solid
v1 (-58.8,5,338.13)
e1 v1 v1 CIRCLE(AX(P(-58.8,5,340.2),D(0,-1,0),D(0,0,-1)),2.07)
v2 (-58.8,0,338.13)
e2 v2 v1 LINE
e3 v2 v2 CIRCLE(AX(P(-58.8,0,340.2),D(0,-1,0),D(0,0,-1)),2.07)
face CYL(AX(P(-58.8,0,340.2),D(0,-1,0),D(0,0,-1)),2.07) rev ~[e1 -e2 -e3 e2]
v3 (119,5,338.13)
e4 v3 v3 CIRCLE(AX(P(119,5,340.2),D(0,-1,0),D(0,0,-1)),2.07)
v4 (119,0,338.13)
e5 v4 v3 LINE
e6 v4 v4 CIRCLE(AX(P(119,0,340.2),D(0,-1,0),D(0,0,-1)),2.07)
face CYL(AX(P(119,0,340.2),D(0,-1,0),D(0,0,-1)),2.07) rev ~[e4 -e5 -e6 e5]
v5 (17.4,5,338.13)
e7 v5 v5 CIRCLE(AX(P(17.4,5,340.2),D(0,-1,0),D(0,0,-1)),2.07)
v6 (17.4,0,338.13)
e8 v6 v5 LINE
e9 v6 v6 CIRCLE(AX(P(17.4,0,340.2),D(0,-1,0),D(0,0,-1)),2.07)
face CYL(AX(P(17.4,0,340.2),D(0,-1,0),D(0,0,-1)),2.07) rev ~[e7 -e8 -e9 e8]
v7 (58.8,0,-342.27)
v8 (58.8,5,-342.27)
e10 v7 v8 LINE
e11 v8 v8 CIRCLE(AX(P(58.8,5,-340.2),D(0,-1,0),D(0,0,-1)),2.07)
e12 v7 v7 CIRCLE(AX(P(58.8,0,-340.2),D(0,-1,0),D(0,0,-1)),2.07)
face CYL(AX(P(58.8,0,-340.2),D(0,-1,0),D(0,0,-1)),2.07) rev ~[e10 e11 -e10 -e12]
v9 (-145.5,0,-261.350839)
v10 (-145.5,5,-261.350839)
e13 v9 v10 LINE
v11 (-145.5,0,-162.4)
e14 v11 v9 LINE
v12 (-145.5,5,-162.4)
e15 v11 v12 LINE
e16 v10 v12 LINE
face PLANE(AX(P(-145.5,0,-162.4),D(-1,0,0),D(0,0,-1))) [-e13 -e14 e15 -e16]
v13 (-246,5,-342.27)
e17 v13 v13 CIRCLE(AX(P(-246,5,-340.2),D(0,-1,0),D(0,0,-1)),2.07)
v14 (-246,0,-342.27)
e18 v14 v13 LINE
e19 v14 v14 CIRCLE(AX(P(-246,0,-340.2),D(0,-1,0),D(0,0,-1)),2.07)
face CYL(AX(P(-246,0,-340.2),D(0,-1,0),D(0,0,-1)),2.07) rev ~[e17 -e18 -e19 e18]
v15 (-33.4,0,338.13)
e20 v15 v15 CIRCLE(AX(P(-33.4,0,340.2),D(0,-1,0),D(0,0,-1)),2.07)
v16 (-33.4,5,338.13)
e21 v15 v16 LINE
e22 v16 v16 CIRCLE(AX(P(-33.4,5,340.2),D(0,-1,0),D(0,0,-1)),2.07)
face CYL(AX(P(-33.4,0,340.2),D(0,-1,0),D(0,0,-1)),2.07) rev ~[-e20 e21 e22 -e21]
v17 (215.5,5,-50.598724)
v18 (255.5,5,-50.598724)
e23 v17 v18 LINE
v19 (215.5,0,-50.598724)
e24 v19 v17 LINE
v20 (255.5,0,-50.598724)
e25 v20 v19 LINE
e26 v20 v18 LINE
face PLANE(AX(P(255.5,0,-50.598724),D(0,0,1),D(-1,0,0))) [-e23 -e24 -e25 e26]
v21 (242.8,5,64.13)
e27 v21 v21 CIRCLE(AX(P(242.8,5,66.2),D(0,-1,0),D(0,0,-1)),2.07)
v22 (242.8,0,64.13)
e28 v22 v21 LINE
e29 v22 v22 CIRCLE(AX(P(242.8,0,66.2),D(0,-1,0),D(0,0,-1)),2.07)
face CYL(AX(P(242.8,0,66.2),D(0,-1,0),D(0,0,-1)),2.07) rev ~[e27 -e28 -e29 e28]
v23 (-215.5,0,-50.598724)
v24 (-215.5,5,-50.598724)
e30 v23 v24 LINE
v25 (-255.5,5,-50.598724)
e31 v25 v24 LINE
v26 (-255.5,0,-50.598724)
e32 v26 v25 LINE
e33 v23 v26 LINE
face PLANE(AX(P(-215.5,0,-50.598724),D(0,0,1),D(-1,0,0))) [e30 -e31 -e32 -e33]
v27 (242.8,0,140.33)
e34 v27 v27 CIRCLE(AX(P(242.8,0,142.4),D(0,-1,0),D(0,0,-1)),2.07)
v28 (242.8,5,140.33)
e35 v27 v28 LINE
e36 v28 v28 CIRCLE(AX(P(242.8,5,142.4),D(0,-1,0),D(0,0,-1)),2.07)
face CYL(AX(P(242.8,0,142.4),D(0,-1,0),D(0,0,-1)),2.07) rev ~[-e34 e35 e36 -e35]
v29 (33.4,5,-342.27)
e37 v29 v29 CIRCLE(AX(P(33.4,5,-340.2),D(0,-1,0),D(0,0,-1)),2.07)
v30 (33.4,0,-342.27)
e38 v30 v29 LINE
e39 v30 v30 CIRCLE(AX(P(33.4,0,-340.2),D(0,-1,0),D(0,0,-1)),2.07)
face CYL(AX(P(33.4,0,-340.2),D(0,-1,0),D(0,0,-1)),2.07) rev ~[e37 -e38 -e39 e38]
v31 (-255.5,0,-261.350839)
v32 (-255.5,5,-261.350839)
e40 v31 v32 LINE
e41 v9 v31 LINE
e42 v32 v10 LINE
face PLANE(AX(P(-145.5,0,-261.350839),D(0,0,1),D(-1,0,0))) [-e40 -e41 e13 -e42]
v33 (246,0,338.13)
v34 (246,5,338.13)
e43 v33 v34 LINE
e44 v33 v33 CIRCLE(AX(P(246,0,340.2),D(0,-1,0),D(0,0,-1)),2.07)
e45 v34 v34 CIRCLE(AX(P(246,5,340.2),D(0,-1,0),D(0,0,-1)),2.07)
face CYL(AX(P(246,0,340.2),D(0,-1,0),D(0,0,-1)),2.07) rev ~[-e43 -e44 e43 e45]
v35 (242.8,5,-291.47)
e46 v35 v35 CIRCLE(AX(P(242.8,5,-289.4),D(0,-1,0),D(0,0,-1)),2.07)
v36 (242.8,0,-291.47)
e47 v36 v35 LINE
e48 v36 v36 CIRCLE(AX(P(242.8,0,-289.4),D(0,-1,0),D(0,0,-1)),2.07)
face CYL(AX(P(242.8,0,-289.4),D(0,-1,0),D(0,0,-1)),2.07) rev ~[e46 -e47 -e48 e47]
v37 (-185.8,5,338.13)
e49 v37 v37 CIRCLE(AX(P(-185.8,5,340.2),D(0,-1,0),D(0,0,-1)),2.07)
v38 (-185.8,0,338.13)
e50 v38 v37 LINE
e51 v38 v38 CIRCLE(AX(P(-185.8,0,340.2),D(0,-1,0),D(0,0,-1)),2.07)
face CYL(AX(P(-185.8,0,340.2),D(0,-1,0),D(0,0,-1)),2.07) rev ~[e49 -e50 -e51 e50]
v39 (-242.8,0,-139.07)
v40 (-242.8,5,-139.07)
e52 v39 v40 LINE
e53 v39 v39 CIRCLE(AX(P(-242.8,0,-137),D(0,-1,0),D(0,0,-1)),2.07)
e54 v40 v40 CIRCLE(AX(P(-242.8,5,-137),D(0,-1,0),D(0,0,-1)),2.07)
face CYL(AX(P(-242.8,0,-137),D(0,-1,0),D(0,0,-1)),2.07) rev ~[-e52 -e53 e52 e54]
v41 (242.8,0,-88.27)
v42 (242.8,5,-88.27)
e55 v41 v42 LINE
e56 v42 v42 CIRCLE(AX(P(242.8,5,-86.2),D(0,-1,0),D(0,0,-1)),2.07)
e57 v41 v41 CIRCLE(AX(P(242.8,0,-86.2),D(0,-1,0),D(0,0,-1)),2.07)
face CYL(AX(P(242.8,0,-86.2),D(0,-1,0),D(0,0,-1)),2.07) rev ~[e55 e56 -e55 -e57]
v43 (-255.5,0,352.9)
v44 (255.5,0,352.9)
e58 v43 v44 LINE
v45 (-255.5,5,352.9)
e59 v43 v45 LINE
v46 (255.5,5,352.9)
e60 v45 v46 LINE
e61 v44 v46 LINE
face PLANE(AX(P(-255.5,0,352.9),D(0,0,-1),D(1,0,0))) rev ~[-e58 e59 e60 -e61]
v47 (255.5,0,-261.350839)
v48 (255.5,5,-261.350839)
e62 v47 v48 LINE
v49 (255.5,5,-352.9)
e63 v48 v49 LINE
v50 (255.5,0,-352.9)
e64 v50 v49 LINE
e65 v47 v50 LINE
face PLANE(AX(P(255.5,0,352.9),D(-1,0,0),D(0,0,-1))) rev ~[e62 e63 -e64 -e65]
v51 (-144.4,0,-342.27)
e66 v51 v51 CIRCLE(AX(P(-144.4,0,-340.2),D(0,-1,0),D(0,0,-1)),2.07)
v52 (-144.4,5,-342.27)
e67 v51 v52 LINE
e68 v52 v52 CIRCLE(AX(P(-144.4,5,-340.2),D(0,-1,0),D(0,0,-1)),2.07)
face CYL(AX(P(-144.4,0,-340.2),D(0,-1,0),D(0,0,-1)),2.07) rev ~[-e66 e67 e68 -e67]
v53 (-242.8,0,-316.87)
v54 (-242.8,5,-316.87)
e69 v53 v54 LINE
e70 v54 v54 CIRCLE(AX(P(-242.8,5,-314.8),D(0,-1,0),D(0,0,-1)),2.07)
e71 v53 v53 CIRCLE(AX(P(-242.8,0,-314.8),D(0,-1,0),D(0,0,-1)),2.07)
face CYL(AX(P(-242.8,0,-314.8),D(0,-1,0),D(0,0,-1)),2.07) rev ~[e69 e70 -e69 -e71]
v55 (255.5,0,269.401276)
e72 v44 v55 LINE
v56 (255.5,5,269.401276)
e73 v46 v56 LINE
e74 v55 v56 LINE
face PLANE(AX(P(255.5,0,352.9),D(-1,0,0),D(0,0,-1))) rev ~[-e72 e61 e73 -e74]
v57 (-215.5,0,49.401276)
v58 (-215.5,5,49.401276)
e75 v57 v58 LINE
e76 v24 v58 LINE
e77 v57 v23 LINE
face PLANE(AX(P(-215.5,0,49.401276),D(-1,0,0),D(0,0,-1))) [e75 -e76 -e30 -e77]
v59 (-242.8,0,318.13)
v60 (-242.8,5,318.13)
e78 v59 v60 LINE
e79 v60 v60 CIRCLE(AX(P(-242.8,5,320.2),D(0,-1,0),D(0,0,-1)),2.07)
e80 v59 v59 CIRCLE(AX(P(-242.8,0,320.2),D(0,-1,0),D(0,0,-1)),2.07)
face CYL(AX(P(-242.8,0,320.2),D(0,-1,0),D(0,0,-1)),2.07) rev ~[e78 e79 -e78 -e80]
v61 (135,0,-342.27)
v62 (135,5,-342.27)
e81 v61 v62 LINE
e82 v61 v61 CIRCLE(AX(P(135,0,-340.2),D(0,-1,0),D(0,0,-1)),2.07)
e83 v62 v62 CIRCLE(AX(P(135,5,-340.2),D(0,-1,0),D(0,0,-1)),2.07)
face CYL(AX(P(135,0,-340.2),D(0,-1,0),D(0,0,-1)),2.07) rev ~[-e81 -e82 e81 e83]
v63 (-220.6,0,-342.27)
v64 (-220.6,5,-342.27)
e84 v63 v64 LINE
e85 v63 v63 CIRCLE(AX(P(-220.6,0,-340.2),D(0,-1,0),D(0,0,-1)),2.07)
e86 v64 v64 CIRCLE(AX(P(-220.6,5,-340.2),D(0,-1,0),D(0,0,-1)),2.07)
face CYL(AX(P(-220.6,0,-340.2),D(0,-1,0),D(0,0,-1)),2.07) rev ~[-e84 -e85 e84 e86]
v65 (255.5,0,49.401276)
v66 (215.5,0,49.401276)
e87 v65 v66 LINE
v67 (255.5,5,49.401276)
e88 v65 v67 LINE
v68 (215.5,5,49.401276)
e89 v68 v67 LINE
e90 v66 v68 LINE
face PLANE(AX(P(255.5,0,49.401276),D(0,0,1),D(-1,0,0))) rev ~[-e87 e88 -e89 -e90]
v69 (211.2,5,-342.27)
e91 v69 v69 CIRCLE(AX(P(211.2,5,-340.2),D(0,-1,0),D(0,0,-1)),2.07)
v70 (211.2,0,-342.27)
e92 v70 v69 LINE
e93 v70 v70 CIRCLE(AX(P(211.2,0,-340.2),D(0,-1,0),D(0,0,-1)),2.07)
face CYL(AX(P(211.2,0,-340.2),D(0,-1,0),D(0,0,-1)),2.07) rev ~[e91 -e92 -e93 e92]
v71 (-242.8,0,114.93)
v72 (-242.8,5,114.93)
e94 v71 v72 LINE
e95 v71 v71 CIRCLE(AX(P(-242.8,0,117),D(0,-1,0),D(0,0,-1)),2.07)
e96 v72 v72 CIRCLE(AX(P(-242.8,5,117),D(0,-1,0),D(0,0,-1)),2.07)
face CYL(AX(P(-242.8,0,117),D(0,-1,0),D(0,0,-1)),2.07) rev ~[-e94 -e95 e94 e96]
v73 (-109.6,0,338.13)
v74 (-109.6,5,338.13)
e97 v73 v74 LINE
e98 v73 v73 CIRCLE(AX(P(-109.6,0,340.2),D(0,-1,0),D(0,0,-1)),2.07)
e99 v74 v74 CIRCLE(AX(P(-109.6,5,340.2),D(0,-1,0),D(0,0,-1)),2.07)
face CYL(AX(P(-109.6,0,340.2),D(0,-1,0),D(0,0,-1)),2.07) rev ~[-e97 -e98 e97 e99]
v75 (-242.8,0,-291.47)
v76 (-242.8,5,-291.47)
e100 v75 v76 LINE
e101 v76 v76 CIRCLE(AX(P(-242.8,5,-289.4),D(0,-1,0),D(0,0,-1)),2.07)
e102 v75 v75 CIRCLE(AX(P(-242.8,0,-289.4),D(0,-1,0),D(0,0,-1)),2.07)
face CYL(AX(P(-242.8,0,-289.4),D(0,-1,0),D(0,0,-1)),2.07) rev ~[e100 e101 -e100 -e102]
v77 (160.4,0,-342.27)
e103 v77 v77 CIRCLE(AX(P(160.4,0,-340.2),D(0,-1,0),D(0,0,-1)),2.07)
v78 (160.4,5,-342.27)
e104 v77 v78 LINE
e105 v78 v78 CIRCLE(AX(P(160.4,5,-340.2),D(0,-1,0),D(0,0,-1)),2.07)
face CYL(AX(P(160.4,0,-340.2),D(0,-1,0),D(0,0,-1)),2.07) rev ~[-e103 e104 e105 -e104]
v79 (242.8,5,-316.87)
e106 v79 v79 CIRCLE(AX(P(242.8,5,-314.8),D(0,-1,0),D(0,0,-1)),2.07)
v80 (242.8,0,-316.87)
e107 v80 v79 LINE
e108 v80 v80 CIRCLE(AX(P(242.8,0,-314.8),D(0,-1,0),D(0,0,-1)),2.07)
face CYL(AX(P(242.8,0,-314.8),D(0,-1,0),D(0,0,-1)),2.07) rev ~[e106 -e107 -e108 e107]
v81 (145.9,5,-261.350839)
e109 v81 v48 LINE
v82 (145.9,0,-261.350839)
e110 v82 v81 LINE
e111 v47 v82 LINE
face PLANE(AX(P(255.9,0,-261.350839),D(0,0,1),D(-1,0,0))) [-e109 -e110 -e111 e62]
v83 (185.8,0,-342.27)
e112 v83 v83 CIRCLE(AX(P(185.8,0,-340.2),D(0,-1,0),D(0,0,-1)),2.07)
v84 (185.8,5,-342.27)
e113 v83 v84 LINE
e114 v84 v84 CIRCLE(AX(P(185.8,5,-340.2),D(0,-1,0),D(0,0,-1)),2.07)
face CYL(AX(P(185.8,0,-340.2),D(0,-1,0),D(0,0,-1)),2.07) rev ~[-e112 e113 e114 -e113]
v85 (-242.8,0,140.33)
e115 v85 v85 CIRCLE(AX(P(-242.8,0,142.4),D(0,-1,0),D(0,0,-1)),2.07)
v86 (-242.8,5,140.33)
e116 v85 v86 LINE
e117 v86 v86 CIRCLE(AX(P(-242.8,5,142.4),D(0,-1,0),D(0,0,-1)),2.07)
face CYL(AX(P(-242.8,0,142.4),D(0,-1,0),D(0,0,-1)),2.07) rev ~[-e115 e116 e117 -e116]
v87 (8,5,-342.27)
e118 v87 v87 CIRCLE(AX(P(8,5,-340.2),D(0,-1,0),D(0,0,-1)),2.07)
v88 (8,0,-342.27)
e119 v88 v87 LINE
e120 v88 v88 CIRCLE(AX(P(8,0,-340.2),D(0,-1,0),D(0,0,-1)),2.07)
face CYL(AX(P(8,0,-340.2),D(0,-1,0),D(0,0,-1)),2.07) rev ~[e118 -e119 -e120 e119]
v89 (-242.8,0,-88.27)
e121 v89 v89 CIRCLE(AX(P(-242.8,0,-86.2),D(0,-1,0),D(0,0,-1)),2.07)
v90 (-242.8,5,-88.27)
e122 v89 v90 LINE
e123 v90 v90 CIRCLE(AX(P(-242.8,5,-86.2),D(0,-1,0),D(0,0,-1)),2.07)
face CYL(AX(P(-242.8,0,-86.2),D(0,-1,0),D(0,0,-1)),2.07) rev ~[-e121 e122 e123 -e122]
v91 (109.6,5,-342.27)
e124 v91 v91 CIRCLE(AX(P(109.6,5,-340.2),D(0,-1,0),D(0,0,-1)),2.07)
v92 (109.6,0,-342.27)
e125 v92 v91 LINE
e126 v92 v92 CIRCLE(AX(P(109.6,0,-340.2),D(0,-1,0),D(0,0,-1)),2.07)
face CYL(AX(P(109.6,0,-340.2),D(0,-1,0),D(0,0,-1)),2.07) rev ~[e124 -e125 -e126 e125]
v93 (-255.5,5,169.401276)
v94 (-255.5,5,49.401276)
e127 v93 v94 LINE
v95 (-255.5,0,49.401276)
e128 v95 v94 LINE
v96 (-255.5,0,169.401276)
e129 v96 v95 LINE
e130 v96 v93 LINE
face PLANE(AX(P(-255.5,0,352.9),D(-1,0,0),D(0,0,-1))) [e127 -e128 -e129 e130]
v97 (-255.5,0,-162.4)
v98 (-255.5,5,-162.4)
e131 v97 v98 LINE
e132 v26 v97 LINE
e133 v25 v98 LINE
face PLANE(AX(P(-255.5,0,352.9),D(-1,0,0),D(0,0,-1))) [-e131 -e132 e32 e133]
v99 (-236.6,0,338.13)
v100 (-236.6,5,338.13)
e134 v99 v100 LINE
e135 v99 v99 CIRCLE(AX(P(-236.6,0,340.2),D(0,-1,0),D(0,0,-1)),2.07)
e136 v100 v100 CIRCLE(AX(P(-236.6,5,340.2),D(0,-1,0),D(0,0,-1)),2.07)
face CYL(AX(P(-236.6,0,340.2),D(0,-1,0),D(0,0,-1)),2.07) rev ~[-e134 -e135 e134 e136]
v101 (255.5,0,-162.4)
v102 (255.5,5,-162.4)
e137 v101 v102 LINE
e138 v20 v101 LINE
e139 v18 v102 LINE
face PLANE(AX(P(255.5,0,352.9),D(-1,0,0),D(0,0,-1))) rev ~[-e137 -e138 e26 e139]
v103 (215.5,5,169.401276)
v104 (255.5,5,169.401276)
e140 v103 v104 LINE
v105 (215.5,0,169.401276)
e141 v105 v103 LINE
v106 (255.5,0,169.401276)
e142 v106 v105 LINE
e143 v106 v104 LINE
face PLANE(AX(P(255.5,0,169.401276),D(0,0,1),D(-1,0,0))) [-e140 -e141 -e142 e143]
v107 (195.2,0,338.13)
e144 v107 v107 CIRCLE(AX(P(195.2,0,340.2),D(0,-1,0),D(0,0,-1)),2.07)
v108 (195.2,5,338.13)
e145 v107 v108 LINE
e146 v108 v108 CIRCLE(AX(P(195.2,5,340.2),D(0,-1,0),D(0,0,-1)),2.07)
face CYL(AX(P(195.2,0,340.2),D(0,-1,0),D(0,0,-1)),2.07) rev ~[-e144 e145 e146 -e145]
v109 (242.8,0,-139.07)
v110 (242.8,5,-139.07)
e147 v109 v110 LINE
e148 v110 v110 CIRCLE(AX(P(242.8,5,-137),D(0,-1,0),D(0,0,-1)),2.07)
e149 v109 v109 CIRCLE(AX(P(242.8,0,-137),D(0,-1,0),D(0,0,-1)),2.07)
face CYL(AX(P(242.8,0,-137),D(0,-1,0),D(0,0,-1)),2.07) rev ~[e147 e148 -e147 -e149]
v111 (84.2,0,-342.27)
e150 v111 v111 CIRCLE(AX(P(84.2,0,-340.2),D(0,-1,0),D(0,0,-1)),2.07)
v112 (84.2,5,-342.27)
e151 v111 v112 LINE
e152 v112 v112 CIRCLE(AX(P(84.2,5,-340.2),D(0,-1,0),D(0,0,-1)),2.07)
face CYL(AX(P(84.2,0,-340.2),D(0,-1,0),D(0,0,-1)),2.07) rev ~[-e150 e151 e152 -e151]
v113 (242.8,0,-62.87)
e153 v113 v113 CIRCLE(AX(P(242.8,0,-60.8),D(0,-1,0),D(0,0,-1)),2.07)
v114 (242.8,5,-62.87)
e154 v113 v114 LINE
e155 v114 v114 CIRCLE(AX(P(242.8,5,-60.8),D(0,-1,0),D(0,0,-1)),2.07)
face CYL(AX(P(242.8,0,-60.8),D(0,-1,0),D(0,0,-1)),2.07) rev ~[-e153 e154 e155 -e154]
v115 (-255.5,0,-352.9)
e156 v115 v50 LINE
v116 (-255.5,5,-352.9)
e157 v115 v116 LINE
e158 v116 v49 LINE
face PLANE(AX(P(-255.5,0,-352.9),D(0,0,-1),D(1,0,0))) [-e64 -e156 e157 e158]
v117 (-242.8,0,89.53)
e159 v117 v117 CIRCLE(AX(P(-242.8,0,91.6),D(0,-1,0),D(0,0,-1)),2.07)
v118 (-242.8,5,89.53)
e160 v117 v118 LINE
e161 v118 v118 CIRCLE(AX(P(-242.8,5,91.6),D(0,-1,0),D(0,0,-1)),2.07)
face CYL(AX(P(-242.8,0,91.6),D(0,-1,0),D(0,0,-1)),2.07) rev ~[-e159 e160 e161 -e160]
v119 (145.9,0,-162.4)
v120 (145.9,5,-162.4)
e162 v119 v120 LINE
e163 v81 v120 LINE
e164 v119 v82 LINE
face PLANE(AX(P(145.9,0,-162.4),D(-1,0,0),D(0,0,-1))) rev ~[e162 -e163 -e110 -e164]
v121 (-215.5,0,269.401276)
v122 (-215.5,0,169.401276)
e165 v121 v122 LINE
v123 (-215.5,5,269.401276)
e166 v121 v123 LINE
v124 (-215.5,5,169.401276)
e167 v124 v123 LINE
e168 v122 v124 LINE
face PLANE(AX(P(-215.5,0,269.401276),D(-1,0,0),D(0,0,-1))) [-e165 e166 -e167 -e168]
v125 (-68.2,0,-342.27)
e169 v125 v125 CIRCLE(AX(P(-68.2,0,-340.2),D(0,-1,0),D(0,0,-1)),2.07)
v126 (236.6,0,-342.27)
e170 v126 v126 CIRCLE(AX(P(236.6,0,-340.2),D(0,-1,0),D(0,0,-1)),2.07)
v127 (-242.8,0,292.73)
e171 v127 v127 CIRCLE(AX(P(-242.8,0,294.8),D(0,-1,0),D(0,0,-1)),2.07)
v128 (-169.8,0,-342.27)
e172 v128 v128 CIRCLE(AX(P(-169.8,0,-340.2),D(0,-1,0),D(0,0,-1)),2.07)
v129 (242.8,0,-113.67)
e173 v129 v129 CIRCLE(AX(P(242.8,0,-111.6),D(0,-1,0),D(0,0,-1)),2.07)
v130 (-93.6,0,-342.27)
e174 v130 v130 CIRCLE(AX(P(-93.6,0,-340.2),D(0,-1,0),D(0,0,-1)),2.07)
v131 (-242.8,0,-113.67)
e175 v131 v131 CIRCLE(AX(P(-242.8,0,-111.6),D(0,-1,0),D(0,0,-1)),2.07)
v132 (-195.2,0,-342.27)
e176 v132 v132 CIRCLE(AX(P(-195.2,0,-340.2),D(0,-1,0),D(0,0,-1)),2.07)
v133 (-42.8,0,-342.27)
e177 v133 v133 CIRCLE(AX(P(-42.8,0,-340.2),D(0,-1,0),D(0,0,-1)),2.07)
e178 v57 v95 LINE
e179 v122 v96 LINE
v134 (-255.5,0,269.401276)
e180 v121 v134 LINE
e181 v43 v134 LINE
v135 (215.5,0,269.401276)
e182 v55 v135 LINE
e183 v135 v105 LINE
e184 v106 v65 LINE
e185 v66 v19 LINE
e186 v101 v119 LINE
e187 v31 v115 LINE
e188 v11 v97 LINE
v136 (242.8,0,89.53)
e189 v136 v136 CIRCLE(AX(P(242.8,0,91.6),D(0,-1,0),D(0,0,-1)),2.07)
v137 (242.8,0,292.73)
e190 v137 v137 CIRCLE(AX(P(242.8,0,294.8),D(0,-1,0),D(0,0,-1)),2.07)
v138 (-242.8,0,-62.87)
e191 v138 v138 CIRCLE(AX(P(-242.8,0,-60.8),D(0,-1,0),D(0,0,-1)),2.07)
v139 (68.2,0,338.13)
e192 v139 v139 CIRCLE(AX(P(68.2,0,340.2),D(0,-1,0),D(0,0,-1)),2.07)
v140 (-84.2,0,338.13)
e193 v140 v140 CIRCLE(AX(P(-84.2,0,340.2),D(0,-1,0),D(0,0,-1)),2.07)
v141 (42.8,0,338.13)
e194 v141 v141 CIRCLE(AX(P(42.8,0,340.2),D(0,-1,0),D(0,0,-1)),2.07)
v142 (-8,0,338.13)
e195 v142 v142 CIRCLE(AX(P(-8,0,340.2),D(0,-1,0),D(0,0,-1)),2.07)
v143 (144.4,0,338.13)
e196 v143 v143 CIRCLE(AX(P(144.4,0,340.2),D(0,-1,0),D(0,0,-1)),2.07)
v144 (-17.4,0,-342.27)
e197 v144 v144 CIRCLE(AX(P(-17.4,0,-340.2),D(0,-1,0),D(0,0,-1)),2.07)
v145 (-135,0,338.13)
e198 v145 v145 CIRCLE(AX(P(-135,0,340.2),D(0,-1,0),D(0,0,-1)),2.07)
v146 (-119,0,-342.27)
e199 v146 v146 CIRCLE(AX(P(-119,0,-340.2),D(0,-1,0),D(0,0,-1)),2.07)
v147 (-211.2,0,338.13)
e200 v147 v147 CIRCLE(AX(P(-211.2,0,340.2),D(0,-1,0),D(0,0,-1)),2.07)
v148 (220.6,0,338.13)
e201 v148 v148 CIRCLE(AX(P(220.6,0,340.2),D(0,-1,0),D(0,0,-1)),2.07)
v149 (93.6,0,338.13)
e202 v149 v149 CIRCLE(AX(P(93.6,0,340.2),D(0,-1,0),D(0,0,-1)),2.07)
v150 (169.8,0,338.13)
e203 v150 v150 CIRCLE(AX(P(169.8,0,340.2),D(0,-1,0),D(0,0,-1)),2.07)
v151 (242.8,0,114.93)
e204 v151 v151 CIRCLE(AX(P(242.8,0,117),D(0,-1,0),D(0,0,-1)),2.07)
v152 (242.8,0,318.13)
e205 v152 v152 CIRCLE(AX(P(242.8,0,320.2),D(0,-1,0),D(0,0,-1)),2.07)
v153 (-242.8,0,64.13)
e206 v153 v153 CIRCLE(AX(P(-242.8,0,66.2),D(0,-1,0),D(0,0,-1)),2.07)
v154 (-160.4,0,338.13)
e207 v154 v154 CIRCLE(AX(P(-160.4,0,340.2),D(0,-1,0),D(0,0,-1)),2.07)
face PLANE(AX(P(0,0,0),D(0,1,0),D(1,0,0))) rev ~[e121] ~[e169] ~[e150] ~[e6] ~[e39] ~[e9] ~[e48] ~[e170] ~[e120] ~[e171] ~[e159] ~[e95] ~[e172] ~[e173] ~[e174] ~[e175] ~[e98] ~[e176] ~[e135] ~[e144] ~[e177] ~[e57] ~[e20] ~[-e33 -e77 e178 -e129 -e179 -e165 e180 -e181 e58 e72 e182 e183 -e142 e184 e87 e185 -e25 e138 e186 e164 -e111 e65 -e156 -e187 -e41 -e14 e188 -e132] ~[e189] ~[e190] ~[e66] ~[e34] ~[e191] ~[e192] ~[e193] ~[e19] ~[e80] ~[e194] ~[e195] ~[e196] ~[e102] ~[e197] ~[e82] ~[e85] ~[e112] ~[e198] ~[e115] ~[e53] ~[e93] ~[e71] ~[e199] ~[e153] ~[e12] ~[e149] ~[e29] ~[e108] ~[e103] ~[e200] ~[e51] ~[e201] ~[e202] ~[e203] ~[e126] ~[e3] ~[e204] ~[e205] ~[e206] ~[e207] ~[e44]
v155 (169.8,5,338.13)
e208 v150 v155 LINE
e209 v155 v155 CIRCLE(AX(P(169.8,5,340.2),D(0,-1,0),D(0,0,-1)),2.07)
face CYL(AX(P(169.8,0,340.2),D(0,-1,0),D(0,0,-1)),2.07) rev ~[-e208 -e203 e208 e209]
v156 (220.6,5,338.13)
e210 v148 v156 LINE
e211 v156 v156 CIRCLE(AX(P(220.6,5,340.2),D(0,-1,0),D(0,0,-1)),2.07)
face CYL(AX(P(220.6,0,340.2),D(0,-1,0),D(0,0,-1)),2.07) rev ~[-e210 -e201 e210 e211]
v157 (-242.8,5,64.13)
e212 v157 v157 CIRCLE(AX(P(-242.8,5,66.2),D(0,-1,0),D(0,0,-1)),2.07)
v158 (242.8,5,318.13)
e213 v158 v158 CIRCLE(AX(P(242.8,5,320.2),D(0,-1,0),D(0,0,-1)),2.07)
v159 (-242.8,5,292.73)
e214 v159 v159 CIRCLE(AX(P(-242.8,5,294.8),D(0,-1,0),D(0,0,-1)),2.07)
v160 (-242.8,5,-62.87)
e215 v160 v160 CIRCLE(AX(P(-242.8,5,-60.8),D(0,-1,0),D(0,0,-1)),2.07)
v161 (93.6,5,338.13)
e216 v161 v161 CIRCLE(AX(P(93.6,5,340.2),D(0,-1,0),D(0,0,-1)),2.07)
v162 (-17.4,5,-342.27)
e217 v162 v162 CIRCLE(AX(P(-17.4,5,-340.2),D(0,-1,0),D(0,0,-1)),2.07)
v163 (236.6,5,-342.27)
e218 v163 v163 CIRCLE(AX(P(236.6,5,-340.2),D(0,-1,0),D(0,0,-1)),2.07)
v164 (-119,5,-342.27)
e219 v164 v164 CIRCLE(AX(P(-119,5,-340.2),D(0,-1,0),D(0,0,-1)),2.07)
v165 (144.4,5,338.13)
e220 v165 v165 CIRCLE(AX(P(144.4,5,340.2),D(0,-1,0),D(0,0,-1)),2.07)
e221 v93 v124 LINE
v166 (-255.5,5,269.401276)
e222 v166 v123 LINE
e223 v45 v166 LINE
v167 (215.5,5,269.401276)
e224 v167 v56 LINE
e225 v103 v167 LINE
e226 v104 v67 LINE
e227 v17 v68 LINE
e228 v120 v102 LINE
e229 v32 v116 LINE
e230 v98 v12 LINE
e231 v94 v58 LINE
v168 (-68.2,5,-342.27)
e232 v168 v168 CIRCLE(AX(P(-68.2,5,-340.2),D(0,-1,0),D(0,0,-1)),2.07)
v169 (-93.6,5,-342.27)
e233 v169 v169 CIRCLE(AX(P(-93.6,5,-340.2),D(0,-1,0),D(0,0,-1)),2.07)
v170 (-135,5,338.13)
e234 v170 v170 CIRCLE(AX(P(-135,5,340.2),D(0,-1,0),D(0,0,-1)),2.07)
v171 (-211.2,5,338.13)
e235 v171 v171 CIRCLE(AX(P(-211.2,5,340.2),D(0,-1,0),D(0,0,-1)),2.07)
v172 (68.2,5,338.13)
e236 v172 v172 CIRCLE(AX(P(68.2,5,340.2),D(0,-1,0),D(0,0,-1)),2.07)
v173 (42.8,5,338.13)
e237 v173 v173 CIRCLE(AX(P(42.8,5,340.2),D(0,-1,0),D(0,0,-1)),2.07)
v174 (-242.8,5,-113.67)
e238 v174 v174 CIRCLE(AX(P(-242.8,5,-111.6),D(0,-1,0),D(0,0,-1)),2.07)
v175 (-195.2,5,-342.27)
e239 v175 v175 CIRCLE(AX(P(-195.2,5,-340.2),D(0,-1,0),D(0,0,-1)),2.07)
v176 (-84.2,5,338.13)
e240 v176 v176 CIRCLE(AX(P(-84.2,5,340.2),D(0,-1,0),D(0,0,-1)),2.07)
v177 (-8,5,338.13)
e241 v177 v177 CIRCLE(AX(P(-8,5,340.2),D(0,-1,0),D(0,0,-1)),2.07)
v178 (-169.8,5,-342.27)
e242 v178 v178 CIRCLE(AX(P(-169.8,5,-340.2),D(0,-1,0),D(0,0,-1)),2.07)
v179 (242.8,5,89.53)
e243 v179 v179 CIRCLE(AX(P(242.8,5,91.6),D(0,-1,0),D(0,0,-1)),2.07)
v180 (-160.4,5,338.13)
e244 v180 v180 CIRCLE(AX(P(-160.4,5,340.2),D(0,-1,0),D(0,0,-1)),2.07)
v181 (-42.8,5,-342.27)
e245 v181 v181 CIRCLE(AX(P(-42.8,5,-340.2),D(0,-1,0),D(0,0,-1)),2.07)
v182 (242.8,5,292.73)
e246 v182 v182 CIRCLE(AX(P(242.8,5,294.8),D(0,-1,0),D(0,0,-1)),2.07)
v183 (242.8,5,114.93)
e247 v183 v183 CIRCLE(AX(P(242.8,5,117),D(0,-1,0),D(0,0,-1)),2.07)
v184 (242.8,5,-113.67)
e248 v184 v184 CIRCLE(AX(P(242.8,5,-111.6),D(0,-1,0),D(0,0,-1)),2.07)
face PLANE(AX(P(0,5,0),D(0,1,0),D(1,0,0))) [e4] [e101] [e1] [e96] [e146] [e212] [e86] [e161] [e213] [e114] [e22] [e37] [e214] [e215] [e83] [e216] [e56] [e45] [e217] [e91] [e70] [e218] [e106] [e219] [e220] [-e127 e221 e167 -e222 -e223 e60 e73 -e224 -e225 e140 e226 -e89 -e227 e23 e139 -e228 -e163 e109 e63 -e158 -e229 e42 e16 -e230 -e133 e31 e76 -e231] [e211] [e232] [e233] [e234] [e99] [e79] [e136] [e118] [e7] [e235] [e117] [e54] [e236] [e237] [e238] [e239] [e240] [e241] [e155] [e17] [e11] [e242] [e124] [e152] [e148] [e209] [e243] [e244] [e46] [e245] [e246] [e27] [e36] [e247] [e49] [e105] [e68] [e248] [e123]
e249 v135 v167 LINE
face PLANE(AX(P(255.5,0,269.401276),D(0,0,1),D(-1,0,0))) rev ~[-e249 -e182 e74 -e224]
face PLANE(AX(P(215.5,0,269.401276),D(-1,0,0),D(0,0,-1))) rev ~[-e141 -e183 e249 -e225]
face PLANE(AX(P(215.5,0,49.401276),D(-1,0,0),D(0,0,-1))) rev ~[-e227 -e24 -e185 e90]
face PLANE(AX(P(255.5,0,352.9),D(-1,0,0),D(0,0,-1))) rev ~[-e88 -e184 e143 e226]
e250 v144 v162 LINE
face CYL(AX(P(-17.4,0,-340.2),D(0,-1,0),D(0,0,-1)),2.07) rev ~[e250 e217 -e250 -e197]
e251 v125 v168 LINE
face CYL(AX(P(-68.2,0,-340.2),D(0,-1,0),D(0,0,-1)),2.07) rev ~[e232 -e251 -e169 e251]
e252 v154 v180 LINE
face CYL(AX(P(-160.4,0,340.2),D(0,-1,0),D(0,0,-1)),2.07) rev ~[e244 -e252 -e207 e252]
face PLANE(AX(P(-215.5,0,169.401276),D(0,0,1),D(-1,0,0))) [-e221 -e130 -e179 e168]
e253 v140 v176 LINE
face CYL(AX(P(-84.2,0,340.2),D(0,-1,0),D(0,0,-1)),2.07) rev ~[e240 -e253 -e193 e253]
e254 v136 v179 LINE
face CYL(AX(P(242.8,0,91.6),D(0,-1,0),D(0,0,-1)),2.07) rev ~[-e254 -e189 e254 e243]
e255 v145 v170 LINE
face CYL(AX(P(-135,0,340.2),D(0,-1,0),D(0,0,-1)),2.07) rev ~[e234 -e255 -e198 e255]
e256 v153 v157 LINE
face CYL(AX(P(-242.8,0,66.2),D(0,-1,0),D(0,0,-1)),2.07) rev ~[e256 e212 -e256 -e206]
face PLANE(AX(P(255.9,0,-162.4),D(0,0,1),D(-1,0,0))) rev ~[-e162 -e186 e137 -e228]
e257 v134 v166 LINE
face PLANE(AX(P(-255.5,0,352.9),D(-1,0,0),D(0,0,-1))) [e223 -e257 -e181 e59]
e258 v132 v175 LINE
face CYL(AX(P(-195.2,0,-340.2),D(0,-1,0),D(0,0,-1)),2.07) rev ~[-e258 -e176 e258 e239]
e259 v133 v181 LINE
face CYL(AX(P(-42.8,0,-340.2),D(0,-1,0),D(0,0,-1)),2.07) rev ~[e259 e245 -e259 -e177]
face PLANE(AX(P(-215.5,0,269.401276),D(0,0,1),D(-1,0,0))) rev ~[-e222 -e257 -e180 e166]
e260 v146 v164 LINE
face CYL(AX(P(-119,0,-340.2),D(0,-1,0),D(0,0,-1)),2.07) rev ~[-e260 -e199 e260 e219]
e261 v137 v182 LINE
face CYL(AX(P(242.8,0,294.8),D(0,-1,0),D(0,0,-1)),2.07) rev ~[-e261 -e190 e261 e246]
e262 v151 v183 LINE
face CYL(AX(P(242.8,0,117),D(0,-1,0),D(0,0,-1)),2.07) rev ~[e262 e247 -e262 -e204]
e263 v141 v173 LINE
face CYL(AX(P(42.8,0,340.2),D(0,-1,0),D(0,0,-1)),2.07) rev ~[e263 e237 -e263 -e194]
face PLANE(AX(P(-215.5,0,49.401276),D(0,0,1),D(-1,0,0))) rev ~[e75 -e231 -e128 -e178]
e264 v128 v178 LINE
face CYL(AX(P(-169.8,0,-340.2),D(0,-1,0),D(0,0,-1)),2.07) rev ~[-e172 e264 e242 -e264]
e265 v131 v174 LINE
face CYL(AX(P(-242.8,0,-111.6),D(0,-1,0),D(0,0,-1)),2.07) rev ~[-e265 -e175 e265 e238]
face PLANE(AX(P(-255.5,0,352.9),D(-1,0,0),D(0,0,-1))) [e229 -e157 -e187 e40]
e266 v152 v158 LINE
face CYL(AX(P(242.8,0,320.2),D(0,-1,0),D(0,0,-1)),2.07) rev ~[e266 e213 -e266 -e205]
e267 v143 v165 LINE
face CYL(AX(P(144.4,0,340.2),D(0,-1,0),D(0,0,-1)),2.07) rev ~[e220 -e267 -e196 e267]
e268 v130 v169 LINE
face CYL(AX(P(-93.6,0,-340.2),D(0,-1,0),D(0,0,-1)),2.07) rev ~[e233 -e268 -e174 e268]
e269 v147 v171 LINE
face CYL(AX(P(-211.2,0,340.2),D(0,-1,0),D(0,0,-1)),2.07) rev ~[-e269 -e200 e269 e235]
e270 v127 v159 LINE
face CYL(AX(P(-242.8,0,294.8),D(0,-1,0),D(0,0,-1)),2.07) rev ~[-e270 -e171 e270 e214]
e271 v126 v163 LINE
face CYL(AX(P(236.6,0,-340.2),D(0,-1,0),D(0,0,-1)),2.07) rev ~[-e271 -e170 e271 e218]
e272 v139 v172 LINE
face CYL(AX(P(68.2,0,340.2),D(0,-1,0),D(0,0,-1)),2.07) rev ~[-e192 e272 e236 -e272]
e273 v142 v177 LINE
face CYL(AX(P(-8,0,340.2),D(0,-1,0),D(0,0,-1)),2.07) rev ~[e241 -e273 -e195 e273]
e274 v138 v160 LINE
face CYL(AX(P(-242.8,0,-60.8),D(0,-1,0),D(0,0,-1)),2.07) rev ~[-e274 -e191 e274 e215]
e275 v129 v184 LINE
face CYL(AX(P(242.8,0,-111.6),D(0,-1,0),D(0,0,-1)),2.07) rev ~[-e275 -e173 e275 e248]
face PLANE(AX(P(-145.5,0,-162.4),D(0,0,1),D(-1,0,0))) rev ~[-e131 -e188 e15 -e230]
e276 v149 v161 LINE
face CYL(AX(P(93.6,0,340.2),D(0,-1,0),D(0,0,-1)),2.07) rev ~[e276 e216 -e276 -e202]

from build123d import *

# Parameters (mm, degrees)
CROQUIS1_W              = 511
CROQUIS1_H              = 705.8
SALIENTE_EXTRUIR1_DEPTH = 5
CROQUIS2_W              = 40
CROQUIS2_H              = 100
CORTAR_EXTRUIR1_DEPTH   = 10
CROQUIS4_W              = 110
CROQUIS4_H              = 98.950839499
CORTAR_EXTRUIR3_DEPTH   = 10
CROQUIS7_R              = 2.07
CORTAR_EXTRUIR6_DEPTH   = 10
CROQUIS8_R              = 2.07
CORTAR_EXTRUIR7_DEPTH   = 10


with BuildPart() as part:
    # Croquis1 → Saliente-Extruir1 (new body)
    with BuildSketch(Plane(origin=(0, 0, 0), x_dir=(1, 0, 0), z_dir=(0, 1, 0))):
        Rectangle(CROQUIS1_W, CROQUIS1_H)
    extrude(amount=SALIENTE_EXTRUIR1_DEPTH)

    # Croquis2 → Cortar-Extruir1 (cut)
    with BuildSketch(Plane(origin=(0, 0, 0), x_dir=(-1, 0, 0), z_dir=(0, -1, 0))):
        with Locations((235.5, -219.401276077)):
            Rectangle(CROQUIS2_W, CROQUIS2_H)
        with Locations((-235.5, -219.401276077)):
            Rectangle(CROQUIS2_W, CROQUIS2_H)
        with Locations((235.5, 0.598723923)):
            Rectangle(CROQUIS2_W, CROQUIS2_H)
        with Locations((-235.5, 0.598723923)):
            Rectangle(CROQUIS2_W, CROQUIS2_H)
    extrude(amount=-CORTAR_EXTRUIR1_DEPTH, mode=Mode.SUBTRACT)

    # Croquis4 → Cortar-Extruir3 (cut)
    with BuildSketch(Plane(origin=(0, 0, 0), x_dir=(-1, 0, 0), z_dir=(0, -1, 0))):
        with Locations((200.5, 211.875419749)):
            Rectangle(CROQUIS4_W, CROQUIS4_H)
        with Locations((-200.9, 211.875419749)):
            Rectangle(CROQUIS4_W, CROQUIS4_H)
    extrude(amount=-CORTAR_EXTRUIR3_DEPTH, mode=Mode.SUBTRACT)

    # Croquis7 → Cortar-Extruir6 (cut)
    with BuildSketch(Plane(origin=(0, 0, 0), x_dir=(-1, 0, 0), z_dir=(0, -1, 0))):
        with Locations(Location((236.6, -340.2, 0), (0, 0, 90))):
            Circle(CROQUIS7_R)
        with Locations(Location((211.2, -340.2, 0), (0, 0, 90))):
            Circle(CROQUIS7_R)
        with Locations(Location((185.8, -340.2, 0), (0, 0, 90))):
            Circle(CROQUIS7_R)
        with Locations(Location((160.4, -340.2, 0), (0, 0, 90))):
            Circle(CROQUIS7_R)
        with Locations(Location((135, -340.2, 0), (0, 0, 90))):
            Circle(CROQUIS7_R)
        with Locations(Location((109.6, -340.2, 0), (0, 0, 90))):
            Circle(CROQUIS7_R)
        with Locations(Location((84.2, -340.2, 0), (0, 0, 90))):
            Circle(CROQUIS7_R)
        with Locations(Location((58.8, -340.2, 0), (0, 0, 90))):
            Circle(CROQUIS7_R)
        with Locations(Location((33.4, -340.2, 0), (0, 0, 90))):
            Circle(CROQUIS7_R)
        with Locations(Location((8, -340.2, 0), (0, 0, 90))):
            Circle(CROQUIS7_R)
        with Locations(Location((-17.4, -340.2, 0), (0, 0, 90))):
            Circle(CROQUIS7_R)
        with Locations(Location((-42.8, -340.2, 0), (0, 0, 90))):
            Circle(CROQUIS7_R)
        with Locations(Location((-68.2, -340.2, 0), (0, 0, 90))):
            Circle(CROQUIS7_R)
        with Locations(Location((-93.6, -340.2, 0), (0, 0, 90))):
            Circle(CROQUIS7_R)
        with Locations(Location((-119, -340.2, 0), (0, 0, 90))):
            Circle(CROQUIS7_R)
        with Locations(Location((-144.4, -340.2, 0), (0, 0, 90))):
            Circle(CROQUIS7_R)
        with Locations(Location((-169.8, -340.2, 0), (0, 0, 90))):
            Circle(CROQUIS7_R)
        with Locations(Location((-195.2, -340.2, 0), (0, 0, 90))):
            Circle(CROQUIS7_R)
        with Locations(Location((-220.6, -340.2, 0), (0, 0, 90))):
            Circle(CROQUIS7_R)
        with Locations(Location((-246, -340.2, 0), (0, 0, 90))):
            Circle(CROQUIS7_R)
        with Locations(Location((242.8, -320.2, 0), (0, 0, 90))):
            Circle(CROQUIS7_R)
        with Locations(Location((242.8, -294.8, 0), (0, 0, 90))):
            Circle(CROQUIS7_R)
        with Locations(Location((242.8, -142.4, 0), (0, 0, 90))):
            Circle(CROQUIS7_R)
        with Locations(Location((242.8, -117, 0), (0, 0, 90))):
            Circle(CROQUIS7_R)
        with Locations(Location((242.8, -91.6, 0), (0, 0, 90))):
            Circle(CROQUIS7_R)
        with Locations(Location((242.8, -66.2, 0), (0, 0, 90))):
            Circle(CROQUIS7_R)
        with Locations(Location((242.8, 60.8, 0), (0, 0, 90))):
            Circle(CROQUIS7_R)
        with Locations(Location((242.8, 86.2, 0), (0, 0, 90))):
            Circle(CROQUIS7_R)
        with Locations(Location((242.8, 111.6, 0), (0, 0, 90))):
            Circle(CROQUIS7_R)
        with Locations(Location((242.8, 137, 0), (0, 0, 90))):
            Circle(CROQUIS7_R)
        with Locations(Location((242.8, 289.4, 0), (0, 0, 90))):
            Circle(CROQUIS7_R)
        with Locations(Location((242.8, 314.8, 0), (0, 0, 90))):
            Circle(CROQUIS7_R)
    extrude(amount=-CORTAR_EXTRUIR6_DEPTH, mode=Mode.SUBTRACT)

    # Croquis8 → Cortar-Extruir7 (cut)
    with BuildSketch(Plane(origin=(0, 0, 0), x_dir=(-1, 0, 0), z_dir=(0, -1, 0))):
        with Locations(Location((246, 340.2, 0), (0, 0, 90))):
            Circle(CROQUIS8_R)
        with Locations(Location((220.6, 340.2, 0), (0, 0, 90))):
            Circle(CROQUIS8_R)
        with Locations(Location((195.2, 340.2, 0), (0, 0, 90))):
            Circle(CROQUIS8_R)
        with Locations(Location((169.8, 340.2, 0), (0, 0, 90))):
            Circle(CROQUIS8_R)
        with Locations(Location((144.4, 340.2, 0), (0, 0, 90))):
            Circle(CROQUIS8_R)
        with Locations(Location((119, 340.2, 0), (0, 0, 90))):
            Circle(CROQUIS8_R)
        with Locations(Location((93.6, 340.2, 0), (0, 0, 90))):
            Circle(CROQUIS8_R)
        with Locations(Location((68.2, 340.2, 0), (0, 0, 90))):
            Circle(CROQUIS8_R)
        with Locations(Location((42.8, 340.2, 0), (0, 0, 90))):
            Circle(CROQUIS8_R)
        with Locations(Location((17.4, 340.2, 0), (0, 0, 90))):
            Circle(CROQUIS8_R)
        with Locations(Location((-8, 340.2, 0), (0, 0, 90))):
            Circle(CROQUIS8_R)
        with Locations(Location((-33.4, 340.2, 0), (0, 0, 90))):
            Circle(CROQUIS8_R)
        with Locations(Location((-58.8, 340.2, 0), (0, 0, 90))):
            Circle(CROQUIS8_R)
        with Locations(Location((-84.2, 340.2, 0), (0, 0, 90))):
            Circle(CROQUIS8_R)
        with Locations(Location((-109.6, 340.2, 0), (0, 0, 90))):
            Circle(CROQUIS8_R)
        with Locations(Location((-135, 340.2, 0), (0, 0, 90))):
            Circle(CROQUIS8_R)
        with Locations(Location((-160.4, 340.2, 0), (0, 0, 90))):
            Circle(CROQUIS8_R)
        with Locations(Location((-185.8, 340.2, 0), (0, 0, 90))):
            Circle(CROQUIS8_R)
        with Locations(Location((-211.2, 340.2, 0), (0, 0, 90))):
            Circle(CROQUIS8_R)
        with Locations(Location((-236.6, 340.2, 0), (0, 0, 90))):
            Circle(CROQUIS8_R)
        with Locations(Location((-242.8, 314.8, 0), (0, 0, 90))):
            Circle(CROQUIS8_R)
        with Locations(Location((-242.8, 289.4, 0), (0, 0, 90))):
            Circle(CROQUIS8_R)
        with Locations(Location((-242.8, 137, 0), (0, 0, 90))):
            Circle(CROQUIS8_R)
        with Locations(Location((-242.8, 111.6, 0), (0, 0, 90))):
            Circle(CROQUIS8_R)
        with Locations(Location((-242.8, 86.2, 0), (0, 0, 90))):
            Circle(CROQUIS8_R)
        with Locations(Location((-242.8, 60.8, 0), (0, 0, 90))):
            Circle(CROQUIS8_R)
        with Locations(Location((-242.8, -66.2, 0), (0, 0, 90))):
            Circle(CROQUIS8_R)
        with Locations(Location((-242.8, -91.6, 0), (0, 0, 90))):
            Circle(CROQUIS8_R)
        with Locations(Location((-242.8, -117, 0), (0, 0, 90))):
            Circle(CROQUIS8_R)
        with Locations(Location((-242.8, -142.4, 0), (0, 0, 90))):
            Circle(CROQUIS8_R)
        with Locations(Location((-242.8, -294.8, 0), (0, 0, 90))):
            Circle(CROQUIS8_R)
        with Locations(Location((-242.8, -320.2, 0), (0, 0, 90))):
            Circle(CROQUIS8_R)
    extrude(amount=-CORTAR_EXTRUIR7_DEPTH, mode=Mode.SUBTRACT)


solid = part.part
